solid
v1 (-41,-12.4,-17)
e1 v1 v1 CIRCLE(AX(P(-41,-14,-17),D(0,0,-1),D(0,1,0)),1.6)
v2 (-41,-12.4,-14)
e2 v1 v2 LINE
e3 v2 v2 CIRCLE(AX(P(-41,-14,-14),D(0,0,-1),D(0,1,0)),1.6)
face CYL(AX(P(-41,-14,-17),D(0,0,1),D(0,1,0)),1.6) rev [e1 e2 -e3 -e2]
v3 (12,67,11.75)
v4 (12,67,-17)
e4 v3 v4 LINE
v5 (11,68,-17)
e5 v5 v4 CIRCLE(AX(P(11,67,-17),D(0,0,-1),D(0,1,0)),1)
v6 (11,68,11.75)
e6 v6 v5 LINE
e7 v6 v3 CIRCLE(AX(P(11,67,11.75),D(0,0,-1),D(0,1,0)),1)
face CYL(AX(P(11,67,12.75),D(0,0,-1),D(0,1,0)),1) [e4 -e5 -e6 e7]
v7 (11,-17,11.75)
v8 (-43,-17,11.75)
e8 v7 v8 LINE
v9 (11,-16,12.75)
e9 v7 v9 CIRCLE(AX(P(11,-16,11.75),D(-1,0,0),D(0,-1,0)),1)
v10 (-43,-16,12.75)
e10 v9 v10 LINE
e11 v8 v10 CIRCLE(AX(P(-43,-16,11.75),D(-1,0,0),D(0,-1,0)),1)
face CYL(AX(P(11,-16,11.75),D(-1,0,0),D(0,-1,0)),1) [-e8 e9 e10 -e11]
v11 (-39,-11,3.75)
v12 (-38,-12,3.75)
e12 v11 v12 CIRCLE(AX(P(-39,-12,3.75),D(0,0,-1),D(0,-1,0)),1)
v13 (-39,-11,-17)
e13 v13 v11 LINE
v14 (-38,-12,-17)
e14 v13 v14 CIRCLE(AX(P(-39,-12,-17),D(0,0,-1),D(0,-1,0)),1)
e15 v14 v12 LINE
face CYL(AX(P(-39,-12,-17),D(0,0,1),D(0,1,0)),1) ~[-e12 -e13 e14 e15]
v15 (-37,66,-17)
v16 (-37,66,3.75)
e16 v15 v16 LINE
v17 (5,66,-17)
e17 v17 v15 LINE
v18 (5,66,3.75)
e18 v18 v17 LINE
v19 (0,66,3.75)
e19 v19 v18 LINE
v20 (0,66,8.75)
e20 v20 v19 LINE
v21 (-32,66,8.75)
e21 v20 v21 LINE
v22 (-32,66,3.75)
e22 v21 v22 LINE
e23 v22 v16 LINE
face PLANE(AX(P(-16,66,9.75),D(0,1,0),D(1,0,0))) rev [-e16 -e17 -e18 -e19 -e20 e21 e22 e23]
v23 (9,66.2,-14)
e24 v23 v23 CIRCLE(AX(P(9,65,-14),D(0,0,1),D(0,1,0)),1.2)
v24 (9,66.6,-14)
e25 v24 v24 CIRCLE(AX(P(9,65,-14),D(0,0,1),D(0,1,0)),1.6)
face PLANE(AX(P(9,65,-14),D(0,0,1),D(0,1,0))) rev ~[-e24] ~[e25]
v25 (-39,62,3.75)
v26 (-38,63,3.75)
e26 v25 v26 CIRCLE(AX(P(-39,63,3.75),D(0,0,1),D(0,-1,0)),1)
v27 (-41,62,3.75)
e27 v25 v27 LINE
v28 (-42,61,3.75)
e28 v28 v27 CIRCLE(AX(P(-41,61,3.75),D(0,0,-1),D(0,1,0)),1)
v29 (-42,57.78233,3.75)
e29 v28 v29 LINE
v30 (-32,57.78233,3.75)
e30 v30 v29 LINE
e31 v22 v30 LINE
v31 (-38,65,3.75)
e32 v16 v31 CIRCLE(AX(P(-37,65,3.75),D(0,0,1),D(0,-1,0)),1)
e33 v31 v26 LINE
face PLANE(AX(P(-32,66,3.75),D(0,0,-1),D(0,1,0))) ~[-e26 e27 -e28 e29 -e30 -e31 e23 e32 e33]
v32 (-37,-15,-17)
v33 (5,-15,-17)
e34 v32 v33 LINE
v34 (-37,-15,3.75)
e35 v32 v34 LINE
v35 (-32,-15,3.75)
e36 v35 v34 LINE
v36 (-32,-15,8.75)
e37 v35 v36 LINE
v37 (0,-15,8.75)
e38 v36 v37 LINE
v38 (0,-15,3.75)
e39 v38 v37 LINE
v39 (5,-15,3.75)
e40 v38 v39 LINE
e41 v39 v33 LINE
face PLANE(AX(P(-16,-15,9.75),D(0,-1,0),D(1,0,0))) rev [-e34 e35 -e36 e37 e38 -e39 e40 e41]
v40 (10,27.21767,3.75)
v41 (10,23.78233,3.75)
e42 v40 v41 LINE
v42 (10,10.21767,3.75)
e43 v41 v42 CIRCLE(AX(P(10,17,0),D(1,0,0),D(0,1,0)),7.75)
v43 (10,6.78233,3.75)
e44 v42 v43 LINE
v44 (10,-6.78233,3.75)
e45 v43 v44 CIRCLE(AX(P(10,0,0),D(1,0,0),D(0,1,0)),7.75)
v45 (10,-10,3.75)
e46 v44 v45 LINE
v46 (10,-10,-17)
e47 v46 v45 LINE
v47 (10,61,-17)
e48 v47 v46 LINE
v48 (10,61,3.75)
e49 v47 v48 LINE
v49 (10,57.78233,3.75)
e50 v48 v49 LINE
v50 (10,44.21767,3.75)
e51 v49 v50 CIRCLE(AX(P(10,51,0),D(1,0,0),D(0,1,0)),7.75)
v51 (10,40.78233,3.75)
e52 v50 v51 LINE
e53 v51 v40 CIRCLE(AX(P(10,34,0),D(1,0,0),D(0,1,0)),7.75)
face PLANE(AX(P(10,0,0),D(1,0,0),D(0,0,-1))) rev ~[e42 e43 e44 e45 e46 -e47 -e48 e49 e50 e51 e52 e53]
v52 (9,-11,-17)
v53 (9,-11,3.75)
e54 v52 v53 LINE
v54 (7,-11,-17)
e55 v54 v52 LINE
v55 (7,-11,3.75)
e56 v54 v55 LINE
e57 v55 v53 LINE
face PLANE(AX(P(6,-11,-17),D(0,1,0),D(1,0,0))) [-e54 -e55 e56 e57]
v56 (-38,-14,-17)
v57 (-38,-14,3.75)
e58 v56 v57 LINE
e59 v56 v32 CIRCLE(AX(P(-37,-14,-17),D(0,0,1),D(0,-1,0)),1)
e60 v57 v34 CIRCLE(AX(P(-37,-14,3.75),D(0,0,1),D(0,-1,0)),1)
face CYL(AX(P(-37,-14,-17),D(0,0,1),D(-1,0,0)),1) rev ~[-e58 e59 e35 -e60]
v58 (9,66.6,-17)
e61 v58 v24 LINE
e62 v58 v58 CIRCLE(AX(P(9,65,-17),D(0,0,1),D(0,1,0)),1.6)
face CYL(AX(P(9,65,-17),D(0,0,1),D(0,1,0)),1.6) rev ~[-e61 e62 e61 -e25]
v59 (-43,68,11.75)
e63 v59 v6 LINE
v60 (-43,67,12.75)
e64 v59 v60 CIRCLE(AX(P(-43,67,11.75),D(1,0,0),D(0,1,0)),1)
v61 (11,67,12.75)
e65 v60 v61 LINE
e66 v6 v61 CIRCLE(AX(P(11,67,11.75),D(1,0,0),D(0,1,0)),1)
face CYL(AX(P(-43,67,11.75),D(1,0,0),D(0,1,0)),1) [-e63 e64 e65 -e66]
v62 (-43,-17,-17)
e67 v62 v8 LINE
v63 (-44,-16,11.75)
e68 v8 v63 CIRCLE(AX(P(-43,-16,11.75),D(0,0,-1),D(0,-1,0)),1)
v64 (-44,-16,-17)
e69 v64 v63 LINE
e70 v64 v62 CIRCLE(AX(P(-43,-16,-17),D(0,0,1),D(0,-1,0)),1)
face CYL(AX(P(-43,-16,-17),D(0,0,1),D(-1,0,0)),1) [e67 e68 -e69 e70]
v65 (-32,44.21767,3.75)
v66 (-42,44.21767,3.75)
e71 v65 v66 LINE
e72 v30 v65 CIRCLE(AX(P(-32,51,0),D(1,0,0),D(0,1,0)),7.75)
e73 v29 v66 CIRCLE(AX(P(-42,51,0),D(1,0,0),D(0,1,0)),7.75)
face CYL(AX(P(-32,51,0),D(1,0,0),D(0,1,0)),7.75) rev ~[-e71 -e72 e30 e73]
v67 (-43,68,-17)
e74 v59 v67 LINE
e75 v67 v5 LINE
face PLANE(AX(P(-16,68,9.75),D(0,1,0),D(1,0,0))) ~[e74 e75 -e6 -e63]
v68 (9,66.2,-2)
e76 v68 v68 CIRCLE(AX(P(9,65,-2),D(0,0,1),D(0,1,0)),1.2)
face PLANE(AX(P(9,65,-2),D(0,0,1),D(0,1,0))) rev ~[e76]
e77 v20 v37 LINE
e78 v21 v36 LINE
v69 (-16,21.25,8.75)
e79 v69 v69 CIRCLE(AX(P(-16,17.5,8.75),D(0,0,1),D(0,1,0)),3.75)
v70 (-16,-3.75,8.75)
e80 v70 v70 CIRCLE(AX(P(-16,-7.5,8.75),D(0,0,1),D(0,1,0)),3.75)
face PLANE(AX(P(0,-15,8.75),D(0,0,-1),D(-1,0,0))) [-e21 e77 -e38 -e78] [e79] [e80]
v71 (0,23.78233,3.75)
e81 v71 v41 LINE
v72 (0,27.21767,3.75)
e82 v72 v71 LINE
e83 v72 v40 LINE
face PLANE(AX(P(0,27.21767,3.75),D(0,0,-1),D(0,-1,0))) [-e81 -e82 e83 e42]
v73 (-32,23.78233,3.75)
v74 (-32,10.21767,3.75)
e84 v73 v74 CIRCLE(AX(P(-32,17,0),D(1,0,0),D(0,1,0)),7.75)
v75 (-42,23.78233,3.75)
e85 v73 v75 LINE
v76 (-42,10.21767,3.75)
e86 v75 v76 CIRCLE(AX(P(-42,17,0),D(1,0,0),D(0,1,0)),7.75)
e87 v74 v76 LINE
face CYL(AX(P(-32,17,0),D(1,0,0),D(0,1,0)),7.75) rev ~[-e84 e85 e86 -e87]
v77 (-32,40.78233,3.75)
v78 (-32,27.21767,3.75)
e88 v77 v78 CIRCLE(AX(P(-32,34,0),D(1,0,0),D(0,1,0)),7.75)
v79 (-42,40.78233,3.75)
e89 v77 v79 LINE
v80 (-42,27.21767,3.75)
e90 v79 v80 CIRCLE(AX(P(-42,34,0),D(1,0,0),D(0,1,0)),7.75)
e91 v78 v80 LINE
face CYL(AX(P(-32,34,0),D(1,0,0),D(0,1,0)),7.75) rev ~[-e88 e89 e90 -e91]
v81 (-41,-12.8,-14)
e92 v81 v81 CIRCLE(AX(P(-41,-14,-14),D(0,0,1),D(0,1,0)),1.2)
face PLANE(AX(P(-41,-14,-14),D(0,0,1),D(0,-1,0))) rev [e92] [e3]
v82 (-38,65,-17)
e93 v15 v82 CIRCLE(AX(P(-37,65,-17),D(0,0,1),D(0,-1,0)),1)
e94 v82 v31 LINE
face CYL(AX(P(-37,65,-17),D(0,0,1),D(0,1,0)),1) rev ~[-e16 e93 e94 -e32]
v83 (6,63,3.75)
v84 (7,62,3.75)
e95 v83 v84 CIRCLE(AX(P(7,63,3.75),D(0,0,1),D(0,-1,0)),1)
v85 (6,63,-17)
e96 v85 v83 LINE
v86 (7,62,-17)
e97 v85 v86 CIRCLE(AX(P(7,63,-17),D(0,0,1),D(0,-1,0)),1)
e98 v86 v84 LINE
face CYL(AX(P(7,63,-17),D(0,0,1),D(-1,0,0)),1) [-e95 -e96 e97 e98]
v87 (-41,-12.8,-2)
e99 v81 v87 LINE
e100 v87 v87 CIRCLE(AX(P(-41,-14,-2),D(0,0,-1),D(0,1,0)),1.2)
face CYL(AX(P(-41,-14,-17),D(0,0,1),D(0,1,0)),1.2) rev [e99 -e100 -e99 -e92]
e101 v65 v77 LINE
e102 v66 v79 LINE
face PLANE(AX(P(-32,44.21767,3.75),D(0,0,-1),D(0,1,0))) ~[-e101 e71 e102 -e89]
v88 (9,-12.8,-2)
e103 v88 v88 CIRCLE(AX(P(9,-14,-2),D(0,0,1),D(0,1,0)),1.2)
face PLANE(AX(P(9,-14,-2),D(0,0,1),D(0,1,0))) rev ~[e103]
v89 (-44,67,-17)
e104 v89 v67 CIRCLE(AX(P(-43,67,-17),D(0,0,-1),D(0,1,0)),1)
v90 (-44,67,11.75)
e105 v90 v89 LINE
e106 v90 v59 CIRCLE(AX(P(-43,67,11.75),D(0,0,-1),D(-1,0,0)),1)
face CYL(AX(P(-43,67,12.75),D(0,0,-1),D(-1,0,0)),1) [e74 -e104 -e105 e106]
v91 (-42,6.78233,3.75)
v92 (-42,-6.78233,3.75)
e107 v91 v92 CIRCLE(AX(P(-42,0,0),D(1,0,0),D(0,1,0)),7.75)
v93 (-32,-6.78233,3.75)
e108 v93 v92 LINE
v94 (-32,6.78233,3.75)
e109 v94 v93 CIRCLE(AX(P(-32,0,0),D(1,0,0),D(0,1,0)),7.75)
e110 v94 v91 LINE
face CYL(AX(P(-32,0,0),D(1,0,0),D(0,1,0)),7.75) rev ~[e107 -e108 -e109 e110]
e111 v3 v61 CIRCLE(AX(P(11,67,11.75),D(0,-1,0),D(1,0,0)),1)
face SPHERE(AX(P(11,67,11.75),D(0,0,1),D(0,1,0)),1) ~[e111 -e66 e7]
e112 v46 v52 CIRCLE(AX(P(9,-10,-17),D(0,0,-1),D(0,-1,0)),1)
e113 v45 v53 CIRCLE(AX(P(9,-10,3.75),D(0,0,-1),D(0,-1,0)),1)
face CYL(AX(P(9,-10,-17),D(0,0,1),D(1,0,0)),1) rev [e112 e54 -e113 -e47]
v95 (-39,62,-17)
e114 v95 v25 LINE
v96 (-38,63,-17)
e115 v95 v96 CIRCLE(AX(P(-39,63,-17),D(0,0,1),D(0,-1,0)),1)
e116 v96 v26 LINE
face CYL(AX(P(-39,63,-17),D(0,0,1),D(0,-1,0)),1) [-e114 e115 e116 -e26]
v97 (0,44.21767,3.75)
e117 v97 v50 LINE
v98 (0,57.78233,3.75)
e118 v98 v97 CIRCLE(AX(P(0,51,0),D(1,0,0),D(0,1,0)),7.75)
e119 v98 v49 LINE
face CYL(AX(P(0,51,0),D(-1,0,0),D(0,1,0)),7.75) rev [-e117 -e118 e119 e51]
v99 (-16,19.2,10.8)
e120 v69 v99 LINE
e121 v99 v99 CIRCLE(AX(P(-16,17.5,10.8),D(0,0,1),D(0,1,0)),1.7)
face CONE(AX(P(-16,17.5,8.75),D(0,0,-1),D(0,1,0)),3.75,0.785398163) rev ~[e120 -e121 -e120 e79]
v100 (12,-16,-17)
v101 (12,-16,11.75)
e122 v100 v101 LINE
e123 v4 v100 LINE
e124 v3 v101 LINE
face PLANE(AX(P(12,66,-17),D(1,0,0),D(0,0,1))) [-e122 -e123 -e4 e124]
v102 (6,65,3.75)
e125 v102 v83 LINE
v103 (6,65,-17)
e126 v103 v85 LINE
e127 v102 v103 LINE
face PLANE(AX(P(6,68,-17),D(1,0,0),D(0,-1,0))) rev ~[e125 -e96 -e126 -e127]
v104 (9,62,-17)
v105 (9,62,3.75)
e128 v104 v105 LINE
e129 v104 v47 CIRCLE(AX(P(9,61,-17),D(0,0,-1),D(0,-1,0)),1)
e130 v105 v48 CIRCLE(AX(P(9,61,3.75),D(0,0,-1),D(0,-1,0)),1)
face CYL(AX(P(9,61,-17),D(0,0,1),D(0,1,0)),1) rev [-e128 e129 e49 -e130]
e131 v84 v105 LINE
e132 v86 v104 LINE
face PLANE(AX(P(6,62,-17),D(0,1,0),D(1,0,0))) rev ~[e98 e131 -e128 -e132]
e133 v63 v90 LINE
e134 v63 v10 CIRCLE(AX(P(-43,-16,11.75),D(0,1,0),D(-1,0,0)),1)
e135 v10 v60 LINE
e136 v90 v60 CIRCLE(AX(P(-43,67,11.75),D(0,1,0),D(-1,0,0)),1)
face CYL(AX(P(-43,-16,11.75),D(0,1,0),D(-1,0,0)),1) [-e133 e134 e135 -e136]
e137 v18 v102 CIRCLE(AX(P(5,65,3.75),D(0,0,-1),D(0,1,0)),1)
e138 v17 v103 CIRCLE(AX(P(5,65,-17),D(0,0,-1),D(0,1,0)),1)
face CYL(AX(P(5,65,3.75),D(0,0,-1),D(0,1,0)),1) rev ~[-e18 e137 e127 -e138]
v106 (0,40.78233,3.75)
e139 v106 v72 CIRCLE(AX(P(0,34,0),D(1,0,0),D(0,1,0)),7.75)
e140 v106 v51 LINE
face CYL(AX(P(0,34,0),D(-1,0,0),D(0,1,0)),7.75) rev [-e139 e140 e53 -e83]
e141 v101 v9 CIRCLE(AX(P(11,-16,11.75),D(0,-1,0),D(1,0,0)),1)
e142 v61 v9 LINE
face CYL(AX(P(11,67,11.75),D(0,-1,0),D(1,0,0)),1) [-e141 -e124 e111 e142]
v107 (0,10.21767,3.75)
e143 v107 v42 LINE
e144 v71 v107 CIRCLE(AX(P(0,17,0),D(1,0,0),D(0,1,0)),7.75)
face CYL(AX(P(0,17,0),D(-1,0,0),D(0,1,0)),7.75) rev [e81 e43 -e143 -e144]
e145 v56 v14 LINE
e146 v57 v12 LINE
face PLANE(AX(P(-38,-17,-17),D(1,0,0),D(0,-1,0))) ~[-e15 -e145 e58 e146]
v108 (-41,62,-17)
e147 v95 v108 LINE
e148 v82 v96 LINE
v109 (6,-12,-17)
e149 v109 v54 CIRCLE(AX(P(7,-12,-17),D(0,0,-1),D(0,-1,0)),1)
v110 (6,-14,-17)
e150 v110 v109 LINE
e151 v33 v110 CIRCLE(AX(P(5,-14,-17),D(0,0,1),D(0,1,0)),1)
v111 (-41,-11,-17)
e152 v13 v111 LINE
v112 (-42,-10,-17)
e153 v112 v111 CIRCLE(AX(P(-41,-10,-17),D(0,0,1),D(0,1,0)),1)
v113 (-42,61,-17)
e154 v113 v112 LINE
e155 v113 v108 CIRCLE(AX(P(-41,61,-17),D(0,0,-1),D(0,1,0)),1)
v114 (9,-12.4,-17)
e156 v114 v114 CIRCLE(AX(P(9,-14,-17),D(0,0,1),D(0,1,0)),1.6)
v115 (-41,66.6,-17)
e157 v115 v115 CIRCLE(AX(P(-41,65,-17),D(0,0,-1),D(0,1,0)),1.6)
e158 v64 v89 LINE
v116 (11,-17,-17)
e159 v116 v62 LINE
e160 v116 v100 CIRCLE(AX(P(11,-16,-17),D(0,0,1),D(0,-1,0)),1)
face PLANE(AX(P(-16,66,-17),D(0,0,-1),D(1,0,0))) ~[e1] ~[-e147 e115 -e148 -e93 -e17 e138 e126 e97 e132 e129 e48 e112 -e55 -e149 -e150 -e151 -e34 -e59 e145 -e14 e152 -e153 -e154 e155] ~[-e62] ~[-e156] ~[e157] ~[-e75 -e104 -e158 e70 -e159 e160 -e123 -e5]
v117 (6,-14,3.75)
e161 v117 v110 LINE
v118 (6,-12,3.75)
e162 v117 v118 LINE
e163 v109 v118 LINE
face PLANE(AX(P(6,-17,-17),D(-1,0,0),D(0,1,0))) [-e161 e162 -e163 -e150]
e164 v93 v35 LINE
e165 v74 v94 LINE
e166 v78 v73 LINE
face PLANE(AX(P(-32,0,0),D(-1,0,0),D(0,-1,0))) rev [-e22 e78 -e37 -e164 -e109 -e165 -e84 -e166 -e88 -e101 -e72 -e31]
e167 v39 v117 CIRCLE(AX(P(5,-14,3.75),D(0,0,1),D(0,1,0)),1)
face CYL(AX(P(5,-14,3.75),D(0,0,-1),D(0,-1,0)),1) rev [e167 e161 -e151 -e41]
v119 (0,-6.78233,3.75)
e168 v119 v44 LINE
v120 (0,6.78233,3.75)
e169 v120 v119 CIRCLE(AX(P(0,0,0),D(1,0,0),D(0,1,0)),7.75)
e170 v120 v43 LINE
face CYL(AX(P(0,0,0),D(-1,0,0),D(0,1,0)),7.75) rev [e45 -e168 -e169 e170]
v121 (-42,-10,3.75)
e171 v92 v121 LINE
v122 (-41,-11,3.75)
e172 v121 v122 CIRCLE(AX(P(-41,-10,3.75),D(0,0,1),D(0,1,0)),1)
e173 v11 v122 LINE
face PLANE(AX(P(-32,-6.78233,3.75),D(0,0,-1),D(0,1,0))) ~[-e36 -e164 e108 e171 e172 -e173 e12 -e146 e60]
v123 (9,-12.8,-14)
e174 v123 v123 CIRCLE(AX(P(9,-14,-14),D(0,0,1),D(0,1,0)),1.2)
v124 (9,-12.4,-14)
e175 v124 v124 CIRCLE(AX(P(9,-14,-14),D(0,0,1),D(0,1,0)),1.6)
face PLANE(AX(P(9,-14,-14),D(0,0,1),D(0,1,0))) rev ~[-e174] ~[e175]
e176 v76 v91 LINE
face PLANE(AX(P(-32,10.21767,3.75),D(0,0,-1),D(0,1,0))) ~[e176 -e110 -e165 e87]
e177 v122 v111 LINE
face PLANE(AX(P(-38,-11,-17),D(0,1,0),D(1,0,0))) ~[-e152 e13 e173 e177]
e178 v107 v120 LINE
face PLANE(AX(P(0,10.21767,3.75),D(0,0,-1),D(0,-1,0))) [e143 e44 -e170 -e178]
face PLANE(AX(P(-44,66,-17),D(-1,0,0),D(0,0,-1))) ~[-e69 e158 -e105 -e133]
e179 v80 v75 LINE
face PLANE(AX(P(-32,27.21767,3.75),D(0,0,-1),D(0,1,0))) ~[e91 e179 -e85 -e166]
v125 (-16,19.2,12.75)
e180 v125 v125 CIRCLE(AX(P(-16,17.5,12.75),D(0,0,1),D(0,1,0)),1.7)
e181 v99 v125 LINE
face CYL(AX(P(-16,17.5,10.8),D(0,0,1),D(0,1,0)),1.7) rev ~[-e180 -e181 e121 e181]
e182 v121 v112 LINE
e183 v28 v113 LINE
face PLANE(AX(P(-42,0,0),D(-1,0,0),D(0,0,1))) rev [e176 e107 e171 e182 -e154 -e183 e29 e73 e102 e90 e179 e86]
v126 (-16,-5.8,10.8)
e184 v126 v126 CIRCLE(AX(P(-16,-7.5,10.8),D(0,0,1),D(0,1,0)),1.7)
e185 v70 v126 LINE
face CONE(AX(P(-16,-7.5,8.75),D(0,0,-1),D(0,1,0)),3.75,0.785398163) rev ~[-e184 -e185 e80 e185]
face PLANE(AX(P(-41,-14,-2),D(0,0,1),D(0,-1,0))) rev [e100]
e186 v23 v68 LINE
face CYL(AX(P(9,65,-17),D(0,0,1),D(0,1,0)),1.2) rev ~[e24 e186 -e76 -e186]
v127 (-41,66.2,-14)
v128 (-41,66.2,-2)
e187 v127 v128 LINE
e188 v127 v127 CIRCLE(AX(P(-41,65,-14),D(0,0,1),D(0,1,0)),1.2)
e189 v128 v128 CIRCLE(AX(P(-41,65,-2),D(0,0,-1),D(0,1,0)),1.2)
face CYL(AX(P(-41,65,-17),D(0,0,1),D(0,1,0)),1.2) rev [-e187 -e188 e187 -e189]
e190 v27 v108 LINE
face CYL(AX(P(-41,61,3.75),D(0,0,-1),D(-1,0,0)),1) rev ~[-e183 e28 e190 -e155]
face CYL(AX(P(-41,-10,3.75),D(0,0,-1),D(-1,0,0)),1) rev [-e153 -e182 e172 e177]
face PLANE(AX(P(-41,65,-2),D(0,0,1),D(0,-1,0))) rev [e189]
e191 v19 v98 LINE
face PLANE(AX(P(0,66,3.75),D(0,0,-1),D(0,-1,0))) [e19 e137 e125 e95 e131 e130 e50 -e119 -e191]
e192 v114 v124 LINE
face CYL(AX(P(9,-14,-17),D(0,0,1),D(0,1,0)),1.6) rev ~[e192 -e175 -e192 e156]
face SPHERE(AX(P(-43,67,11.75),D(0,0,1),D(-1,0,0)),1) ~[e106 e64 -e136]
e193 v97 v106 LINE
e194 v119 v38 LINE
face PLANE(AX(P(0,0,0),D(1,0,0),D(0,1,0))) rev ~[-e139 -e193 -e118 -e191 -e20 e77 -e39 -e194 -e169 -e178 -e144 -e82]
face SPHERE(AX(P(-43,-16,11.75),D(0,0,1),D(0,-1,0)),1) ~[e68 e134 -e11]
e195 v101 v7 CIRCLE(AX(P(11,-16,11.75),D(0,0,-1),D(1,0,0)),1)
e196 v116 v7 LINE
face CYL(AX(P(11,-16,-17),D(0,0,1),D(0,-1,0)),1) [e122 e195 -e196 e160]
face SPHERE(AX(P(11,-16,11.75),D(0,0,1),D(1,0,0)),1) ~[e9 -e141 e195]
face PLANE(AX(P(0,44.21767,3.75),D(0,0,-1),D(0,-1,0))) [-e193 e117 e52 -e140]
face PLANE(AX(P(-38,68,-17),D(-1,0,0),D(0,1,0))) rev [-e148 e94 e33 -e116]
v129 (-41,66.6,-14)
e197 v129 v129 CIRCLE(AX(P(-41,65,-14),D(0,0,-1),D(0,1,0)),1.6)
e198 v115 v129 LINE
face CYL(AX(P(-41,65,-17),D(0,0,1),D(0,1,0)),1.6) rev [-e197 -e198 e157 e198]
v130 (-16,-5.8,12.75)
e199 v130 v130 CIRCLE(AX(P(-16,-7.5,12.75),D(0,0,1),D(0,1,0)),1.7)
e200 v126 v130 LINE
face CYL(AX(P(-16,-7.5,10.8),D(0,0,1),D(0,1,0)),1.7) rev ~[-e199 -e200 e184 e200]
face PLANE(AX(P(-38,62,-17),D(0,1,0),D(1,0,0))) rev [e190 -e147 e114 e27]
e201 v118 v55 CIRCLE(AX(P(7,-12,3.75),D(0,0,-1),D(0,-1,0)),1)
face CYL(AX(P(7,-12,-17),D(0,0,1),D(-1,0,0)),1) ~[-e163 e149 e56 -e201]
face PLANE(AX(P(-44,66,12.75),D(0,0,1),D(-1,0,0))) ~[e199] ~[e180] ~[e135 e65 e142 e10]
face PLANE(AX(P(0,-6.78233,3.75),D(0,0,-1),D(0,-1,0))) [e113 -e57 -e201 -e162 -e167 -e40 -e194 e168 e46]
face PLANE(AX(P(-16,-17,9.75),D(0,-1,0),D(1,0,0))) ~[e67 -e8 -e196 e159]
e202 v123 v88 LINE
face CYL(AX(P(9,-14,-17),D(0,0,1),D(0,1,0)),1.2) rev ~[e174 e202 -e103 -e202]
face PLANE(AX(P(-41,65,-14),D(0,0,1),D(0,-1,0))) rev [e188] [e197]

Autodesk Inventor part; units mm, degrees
ref_plane "YZ Plane" through (0, 0, 0) normal (1, 0, 0) x (0, 1, 0)
ref_plane "XZ Plane" through (0, 0, 0) normal (0, 1, 0) x (-1, 0, 0)
ref_plane "XY Plane" through (0, 0, 0) normal (0, 0, 1) x (1, 0, 0)
sketch "Skizze1" plane through (0, 0, 0) normal (1, 0, 0) x (0, 1, 0)
  circle A0 centre (0, 0) radius 7.75
  line L0 (0, 0) -> (7.75, 0) construction
  circle A1 centre (17, 0) radius 7.75
  circle A2 centre (34, 0) radius 7.75
  circle A3 centre (51, 0) radius 7.75
  line L1 (66, 3.75) -> (-15, 3.75)
  line L2 (-15, 3.75) -> (-15, 9.75)
  line L3 (-15, 9.75) -> (66, 9.75)
  line L4 (66, 9.75) -> (66, 3.75)
  point P0 (24.75, 0)
  point P1 (41.75, 0)
  point P2 (58.75, 0)
  point P3 (66, 6.75)
  point P4 (-6.7823, 3.75)
  point P5 (6.7823, 3.75)
  point P6 (10.2177, 3.75)
  point P7 (23.7823, 3.75)
  point P8 (27.2177, 3.75)
  point P9 (40.7823, 3.75)
  point P10 (44.2177, 3.75)
  point P11 (57.7823, 3.75)
  dimension "d0" = 15.5
  dimension "d3" = 17
  dimension "a" = 9.75
  dimension "b" = 15
  dimension "d10" = 15
  dimension "d11" = 6
extrude "Extrusion1" add sketch "Skizze1" along normal blind 10 contours A0 L1 L2 L3 L4 A3 A2 A1
sketch "Skizze2" plane through (0, -15, 9.75) normal (0, 0, 1) x (1, 0, 0)
  line L0 (0, 81) -> (10, 81) projected
  line L1 (10, 81) -> (-16, 81)
  line L2 (-16, 81) -> (-16, 0)
  line L3 (-16, 0) -> (10, 0)
  line L4 (10, 0) -> (10, 81)
  line L5 (0, 0) -> (10, 0) projected
  point P0 (0, 15)
  dimension "d14" = 26
extrude "Extrusion2" add sketch "Skizze2" along normal blind 3
sketch "Skizze3" plane through (10, 0, 0) normal (1, 0, 0) x (0, 0, -1)
  line L0 (-12.75, 66) -> (-12.75, -15) projected
  line L1 (-12.75, 66) -> (17, 66)
  line L2 (17, 66) -> (17, -15)
  line L3 (17, -15) -> (-12.75, -15)
  line L4 (-12.75, -15) -> (-12.75, 66)
  line L5 (-3.75, -15) -> (-12.75, -15) construction
  circle A0 centre (17, 51) radius 2.5 construction
  point P0 (0, 0)
  point P1 (-12.75, -15)
extrude "Extrusion3" add sketch "Skizze3" along normal blind 2
sketch "Skizze4" plane through (-16, -15, 9.75) normal (0, -1, 0) x (1, 0, 0)
  line L0 (0, 3) -> (28, 3) projected
  line L1 (28, -26.75) -> (28, 3) projected
  line L2 (0, 3) -> (28, 3)
  line L3 (28, 3) -> (28, -26.75)
  line L4 (28, -26.75) -> (0, -26.75)
  line L5 (0, -26.75) -> (0, 3)
  point P0 (16, -9.75)
extrude "Extrusion4" add sketch "Skizze4" along normal blind 2
sketch "Skizze5" plane through (-16, 66, 9.75) normal (0, 1, 0) x (1, 0, 0)
  line L0 (0, 0) -> (0, 26.75) projected
  line L1 (28, -3) -> (0, -3)
  line L2 (0, -3) -> (0, 26.75)
  line L3 (0, 26.75) -> (28, 26.75)
  line L4 (28, 26.75) -> (28, -3)
  point P0 (16, 9.75)
extrude "Extrusion5" add sketch "Skizze5" along normal blind 2
sketch "Skizze6" plane through (10, -15, -17) normal (0, 0, -1) x (-1, 0, 0)
  line L0 (-2, -2) -> (26, -2) projected
  line L1 (-2, -2) -> (4, -2)
  line L2 (4, -2) -> (4, 4)
  line L3 (4, 4) -> (-2, 4)
  line L4 (-2, 4) -> (-2, -2)
  line L5 (-2, 83) -> (26, 83) projected
  line L6 (-2, 83) -> (4, 83)
  line L7 (4, 83) -> (4, 77)
  line L8 (4, 77) -> (-2, 77)
  line L9 (-2, 77) -> (-2, 83)
  point P0 (10, 15)
  point P1 (4, 83)
  dimension "d23" = 6
extrude "Extrusion6" add sketch "Skizze6" against normal up to surface (20.75 mm away)
fillet "Rundung1" radius 1 8 edges at (10, -11, -6.625) (6, -11, -6.625) (6, -15, -6.625) (12, -17, -2.125) (12, 68, -2.125) (10, 62, -6.625) (6, 62, -6.625) (6, 66, -6.625)
sketch "Skizze8" plane through (5, 66, -17) normal (0, 0, -1) x (-1, 0, 0)
  arc A0 (-6, 2) -> (-7, 1) centre (-6, 1) ccw construction
  arc A1 (-2, -4) -> (-1, -3) centre (-2, -3) ccw construction
  line L0 (-6, 1) -> (-2, -3) construction
  arc A2 (-7, -82) -> (-6, -83) centre (-6, -82) ccw construction
  line L1 (-6, -82) -> (-2, -78) construction
  point P0 (5, -66)
  point P1 (-4, -80)
  point P2 (-4, -1)
hole "Bohrung1" at (9, -14, -17) at (9, 65, -17) direction (0, 0, 1) diameter 3.2 depth 3
hole "Bohrung2" at (9, 65, -17) at (9, -14, -17) direction (0, 0, 1) diameter 2.4 depth 15 clearance for "Inbusschraube ISO 4762" size "M2" standard "ISO"
mirror "Spiegeln1" about plane through (-16, 66, 9.75) normal (-1, 0, 0) of "Extrusion1", "Extrusion2", "Extrusion3", "Extrusion4", "Extrusion5", "Extrusion6", "Rundung1", "Bohrung1", "Bohrung2"
sketch "Skizze7" plane through (0, -15, 9.75) normal (0, 0, -1) x (-1, 0, 0)
  line L0 (0, 81) -> (0, 0) projected
  line L1 (32, 0) -> (0, 0) projected
  line L2 (32, 81) -> (32, 0) projected
  line L3 (0, 81) -> (32, 81) projected
  point P0 (0, 15)
extrude "Extrusion7" add sketch "Skizze7" along normal blind 1
fillet "Rundung2" radius 1 4 edges at (-44, 25.5, 12.75) (-16, -17, 12.75) (12, 25.5, 12.75) (-16, 68, 12.75)
sketch "Skizze9" plane through (0, -15, 8.75) normal (0, 0, -1) x (-1, 0, 0)
  line L0 (0, 81) -> (32, 81) construction
  line L1 (16, 81) -> (16, 32.5) construction
  line L2 (16, 32.5) -> (16, 7.5) construction
  line L3 (16, 7.5) -> (16, 0) construction
  line L4 (32, 0) -> (0, 0) construction
  point P0 (0, 15)
  dimension "d44" = 25
  dimension "d52" = 7.5
hole "Bohrung3" at (-16, 17.5, 8.75) at (-16, -7.5, 8.75) direction (0, 0, 1) diameter 3.4 end through all countersink diameter 7.5 countersink angle 90 clearance for "Innensechskant-Senkkopfschraube ISO 10642" size "M3" standard "ISO"
equation "\"d10\" = b"
properties part number "BatteryCase_Botton"
